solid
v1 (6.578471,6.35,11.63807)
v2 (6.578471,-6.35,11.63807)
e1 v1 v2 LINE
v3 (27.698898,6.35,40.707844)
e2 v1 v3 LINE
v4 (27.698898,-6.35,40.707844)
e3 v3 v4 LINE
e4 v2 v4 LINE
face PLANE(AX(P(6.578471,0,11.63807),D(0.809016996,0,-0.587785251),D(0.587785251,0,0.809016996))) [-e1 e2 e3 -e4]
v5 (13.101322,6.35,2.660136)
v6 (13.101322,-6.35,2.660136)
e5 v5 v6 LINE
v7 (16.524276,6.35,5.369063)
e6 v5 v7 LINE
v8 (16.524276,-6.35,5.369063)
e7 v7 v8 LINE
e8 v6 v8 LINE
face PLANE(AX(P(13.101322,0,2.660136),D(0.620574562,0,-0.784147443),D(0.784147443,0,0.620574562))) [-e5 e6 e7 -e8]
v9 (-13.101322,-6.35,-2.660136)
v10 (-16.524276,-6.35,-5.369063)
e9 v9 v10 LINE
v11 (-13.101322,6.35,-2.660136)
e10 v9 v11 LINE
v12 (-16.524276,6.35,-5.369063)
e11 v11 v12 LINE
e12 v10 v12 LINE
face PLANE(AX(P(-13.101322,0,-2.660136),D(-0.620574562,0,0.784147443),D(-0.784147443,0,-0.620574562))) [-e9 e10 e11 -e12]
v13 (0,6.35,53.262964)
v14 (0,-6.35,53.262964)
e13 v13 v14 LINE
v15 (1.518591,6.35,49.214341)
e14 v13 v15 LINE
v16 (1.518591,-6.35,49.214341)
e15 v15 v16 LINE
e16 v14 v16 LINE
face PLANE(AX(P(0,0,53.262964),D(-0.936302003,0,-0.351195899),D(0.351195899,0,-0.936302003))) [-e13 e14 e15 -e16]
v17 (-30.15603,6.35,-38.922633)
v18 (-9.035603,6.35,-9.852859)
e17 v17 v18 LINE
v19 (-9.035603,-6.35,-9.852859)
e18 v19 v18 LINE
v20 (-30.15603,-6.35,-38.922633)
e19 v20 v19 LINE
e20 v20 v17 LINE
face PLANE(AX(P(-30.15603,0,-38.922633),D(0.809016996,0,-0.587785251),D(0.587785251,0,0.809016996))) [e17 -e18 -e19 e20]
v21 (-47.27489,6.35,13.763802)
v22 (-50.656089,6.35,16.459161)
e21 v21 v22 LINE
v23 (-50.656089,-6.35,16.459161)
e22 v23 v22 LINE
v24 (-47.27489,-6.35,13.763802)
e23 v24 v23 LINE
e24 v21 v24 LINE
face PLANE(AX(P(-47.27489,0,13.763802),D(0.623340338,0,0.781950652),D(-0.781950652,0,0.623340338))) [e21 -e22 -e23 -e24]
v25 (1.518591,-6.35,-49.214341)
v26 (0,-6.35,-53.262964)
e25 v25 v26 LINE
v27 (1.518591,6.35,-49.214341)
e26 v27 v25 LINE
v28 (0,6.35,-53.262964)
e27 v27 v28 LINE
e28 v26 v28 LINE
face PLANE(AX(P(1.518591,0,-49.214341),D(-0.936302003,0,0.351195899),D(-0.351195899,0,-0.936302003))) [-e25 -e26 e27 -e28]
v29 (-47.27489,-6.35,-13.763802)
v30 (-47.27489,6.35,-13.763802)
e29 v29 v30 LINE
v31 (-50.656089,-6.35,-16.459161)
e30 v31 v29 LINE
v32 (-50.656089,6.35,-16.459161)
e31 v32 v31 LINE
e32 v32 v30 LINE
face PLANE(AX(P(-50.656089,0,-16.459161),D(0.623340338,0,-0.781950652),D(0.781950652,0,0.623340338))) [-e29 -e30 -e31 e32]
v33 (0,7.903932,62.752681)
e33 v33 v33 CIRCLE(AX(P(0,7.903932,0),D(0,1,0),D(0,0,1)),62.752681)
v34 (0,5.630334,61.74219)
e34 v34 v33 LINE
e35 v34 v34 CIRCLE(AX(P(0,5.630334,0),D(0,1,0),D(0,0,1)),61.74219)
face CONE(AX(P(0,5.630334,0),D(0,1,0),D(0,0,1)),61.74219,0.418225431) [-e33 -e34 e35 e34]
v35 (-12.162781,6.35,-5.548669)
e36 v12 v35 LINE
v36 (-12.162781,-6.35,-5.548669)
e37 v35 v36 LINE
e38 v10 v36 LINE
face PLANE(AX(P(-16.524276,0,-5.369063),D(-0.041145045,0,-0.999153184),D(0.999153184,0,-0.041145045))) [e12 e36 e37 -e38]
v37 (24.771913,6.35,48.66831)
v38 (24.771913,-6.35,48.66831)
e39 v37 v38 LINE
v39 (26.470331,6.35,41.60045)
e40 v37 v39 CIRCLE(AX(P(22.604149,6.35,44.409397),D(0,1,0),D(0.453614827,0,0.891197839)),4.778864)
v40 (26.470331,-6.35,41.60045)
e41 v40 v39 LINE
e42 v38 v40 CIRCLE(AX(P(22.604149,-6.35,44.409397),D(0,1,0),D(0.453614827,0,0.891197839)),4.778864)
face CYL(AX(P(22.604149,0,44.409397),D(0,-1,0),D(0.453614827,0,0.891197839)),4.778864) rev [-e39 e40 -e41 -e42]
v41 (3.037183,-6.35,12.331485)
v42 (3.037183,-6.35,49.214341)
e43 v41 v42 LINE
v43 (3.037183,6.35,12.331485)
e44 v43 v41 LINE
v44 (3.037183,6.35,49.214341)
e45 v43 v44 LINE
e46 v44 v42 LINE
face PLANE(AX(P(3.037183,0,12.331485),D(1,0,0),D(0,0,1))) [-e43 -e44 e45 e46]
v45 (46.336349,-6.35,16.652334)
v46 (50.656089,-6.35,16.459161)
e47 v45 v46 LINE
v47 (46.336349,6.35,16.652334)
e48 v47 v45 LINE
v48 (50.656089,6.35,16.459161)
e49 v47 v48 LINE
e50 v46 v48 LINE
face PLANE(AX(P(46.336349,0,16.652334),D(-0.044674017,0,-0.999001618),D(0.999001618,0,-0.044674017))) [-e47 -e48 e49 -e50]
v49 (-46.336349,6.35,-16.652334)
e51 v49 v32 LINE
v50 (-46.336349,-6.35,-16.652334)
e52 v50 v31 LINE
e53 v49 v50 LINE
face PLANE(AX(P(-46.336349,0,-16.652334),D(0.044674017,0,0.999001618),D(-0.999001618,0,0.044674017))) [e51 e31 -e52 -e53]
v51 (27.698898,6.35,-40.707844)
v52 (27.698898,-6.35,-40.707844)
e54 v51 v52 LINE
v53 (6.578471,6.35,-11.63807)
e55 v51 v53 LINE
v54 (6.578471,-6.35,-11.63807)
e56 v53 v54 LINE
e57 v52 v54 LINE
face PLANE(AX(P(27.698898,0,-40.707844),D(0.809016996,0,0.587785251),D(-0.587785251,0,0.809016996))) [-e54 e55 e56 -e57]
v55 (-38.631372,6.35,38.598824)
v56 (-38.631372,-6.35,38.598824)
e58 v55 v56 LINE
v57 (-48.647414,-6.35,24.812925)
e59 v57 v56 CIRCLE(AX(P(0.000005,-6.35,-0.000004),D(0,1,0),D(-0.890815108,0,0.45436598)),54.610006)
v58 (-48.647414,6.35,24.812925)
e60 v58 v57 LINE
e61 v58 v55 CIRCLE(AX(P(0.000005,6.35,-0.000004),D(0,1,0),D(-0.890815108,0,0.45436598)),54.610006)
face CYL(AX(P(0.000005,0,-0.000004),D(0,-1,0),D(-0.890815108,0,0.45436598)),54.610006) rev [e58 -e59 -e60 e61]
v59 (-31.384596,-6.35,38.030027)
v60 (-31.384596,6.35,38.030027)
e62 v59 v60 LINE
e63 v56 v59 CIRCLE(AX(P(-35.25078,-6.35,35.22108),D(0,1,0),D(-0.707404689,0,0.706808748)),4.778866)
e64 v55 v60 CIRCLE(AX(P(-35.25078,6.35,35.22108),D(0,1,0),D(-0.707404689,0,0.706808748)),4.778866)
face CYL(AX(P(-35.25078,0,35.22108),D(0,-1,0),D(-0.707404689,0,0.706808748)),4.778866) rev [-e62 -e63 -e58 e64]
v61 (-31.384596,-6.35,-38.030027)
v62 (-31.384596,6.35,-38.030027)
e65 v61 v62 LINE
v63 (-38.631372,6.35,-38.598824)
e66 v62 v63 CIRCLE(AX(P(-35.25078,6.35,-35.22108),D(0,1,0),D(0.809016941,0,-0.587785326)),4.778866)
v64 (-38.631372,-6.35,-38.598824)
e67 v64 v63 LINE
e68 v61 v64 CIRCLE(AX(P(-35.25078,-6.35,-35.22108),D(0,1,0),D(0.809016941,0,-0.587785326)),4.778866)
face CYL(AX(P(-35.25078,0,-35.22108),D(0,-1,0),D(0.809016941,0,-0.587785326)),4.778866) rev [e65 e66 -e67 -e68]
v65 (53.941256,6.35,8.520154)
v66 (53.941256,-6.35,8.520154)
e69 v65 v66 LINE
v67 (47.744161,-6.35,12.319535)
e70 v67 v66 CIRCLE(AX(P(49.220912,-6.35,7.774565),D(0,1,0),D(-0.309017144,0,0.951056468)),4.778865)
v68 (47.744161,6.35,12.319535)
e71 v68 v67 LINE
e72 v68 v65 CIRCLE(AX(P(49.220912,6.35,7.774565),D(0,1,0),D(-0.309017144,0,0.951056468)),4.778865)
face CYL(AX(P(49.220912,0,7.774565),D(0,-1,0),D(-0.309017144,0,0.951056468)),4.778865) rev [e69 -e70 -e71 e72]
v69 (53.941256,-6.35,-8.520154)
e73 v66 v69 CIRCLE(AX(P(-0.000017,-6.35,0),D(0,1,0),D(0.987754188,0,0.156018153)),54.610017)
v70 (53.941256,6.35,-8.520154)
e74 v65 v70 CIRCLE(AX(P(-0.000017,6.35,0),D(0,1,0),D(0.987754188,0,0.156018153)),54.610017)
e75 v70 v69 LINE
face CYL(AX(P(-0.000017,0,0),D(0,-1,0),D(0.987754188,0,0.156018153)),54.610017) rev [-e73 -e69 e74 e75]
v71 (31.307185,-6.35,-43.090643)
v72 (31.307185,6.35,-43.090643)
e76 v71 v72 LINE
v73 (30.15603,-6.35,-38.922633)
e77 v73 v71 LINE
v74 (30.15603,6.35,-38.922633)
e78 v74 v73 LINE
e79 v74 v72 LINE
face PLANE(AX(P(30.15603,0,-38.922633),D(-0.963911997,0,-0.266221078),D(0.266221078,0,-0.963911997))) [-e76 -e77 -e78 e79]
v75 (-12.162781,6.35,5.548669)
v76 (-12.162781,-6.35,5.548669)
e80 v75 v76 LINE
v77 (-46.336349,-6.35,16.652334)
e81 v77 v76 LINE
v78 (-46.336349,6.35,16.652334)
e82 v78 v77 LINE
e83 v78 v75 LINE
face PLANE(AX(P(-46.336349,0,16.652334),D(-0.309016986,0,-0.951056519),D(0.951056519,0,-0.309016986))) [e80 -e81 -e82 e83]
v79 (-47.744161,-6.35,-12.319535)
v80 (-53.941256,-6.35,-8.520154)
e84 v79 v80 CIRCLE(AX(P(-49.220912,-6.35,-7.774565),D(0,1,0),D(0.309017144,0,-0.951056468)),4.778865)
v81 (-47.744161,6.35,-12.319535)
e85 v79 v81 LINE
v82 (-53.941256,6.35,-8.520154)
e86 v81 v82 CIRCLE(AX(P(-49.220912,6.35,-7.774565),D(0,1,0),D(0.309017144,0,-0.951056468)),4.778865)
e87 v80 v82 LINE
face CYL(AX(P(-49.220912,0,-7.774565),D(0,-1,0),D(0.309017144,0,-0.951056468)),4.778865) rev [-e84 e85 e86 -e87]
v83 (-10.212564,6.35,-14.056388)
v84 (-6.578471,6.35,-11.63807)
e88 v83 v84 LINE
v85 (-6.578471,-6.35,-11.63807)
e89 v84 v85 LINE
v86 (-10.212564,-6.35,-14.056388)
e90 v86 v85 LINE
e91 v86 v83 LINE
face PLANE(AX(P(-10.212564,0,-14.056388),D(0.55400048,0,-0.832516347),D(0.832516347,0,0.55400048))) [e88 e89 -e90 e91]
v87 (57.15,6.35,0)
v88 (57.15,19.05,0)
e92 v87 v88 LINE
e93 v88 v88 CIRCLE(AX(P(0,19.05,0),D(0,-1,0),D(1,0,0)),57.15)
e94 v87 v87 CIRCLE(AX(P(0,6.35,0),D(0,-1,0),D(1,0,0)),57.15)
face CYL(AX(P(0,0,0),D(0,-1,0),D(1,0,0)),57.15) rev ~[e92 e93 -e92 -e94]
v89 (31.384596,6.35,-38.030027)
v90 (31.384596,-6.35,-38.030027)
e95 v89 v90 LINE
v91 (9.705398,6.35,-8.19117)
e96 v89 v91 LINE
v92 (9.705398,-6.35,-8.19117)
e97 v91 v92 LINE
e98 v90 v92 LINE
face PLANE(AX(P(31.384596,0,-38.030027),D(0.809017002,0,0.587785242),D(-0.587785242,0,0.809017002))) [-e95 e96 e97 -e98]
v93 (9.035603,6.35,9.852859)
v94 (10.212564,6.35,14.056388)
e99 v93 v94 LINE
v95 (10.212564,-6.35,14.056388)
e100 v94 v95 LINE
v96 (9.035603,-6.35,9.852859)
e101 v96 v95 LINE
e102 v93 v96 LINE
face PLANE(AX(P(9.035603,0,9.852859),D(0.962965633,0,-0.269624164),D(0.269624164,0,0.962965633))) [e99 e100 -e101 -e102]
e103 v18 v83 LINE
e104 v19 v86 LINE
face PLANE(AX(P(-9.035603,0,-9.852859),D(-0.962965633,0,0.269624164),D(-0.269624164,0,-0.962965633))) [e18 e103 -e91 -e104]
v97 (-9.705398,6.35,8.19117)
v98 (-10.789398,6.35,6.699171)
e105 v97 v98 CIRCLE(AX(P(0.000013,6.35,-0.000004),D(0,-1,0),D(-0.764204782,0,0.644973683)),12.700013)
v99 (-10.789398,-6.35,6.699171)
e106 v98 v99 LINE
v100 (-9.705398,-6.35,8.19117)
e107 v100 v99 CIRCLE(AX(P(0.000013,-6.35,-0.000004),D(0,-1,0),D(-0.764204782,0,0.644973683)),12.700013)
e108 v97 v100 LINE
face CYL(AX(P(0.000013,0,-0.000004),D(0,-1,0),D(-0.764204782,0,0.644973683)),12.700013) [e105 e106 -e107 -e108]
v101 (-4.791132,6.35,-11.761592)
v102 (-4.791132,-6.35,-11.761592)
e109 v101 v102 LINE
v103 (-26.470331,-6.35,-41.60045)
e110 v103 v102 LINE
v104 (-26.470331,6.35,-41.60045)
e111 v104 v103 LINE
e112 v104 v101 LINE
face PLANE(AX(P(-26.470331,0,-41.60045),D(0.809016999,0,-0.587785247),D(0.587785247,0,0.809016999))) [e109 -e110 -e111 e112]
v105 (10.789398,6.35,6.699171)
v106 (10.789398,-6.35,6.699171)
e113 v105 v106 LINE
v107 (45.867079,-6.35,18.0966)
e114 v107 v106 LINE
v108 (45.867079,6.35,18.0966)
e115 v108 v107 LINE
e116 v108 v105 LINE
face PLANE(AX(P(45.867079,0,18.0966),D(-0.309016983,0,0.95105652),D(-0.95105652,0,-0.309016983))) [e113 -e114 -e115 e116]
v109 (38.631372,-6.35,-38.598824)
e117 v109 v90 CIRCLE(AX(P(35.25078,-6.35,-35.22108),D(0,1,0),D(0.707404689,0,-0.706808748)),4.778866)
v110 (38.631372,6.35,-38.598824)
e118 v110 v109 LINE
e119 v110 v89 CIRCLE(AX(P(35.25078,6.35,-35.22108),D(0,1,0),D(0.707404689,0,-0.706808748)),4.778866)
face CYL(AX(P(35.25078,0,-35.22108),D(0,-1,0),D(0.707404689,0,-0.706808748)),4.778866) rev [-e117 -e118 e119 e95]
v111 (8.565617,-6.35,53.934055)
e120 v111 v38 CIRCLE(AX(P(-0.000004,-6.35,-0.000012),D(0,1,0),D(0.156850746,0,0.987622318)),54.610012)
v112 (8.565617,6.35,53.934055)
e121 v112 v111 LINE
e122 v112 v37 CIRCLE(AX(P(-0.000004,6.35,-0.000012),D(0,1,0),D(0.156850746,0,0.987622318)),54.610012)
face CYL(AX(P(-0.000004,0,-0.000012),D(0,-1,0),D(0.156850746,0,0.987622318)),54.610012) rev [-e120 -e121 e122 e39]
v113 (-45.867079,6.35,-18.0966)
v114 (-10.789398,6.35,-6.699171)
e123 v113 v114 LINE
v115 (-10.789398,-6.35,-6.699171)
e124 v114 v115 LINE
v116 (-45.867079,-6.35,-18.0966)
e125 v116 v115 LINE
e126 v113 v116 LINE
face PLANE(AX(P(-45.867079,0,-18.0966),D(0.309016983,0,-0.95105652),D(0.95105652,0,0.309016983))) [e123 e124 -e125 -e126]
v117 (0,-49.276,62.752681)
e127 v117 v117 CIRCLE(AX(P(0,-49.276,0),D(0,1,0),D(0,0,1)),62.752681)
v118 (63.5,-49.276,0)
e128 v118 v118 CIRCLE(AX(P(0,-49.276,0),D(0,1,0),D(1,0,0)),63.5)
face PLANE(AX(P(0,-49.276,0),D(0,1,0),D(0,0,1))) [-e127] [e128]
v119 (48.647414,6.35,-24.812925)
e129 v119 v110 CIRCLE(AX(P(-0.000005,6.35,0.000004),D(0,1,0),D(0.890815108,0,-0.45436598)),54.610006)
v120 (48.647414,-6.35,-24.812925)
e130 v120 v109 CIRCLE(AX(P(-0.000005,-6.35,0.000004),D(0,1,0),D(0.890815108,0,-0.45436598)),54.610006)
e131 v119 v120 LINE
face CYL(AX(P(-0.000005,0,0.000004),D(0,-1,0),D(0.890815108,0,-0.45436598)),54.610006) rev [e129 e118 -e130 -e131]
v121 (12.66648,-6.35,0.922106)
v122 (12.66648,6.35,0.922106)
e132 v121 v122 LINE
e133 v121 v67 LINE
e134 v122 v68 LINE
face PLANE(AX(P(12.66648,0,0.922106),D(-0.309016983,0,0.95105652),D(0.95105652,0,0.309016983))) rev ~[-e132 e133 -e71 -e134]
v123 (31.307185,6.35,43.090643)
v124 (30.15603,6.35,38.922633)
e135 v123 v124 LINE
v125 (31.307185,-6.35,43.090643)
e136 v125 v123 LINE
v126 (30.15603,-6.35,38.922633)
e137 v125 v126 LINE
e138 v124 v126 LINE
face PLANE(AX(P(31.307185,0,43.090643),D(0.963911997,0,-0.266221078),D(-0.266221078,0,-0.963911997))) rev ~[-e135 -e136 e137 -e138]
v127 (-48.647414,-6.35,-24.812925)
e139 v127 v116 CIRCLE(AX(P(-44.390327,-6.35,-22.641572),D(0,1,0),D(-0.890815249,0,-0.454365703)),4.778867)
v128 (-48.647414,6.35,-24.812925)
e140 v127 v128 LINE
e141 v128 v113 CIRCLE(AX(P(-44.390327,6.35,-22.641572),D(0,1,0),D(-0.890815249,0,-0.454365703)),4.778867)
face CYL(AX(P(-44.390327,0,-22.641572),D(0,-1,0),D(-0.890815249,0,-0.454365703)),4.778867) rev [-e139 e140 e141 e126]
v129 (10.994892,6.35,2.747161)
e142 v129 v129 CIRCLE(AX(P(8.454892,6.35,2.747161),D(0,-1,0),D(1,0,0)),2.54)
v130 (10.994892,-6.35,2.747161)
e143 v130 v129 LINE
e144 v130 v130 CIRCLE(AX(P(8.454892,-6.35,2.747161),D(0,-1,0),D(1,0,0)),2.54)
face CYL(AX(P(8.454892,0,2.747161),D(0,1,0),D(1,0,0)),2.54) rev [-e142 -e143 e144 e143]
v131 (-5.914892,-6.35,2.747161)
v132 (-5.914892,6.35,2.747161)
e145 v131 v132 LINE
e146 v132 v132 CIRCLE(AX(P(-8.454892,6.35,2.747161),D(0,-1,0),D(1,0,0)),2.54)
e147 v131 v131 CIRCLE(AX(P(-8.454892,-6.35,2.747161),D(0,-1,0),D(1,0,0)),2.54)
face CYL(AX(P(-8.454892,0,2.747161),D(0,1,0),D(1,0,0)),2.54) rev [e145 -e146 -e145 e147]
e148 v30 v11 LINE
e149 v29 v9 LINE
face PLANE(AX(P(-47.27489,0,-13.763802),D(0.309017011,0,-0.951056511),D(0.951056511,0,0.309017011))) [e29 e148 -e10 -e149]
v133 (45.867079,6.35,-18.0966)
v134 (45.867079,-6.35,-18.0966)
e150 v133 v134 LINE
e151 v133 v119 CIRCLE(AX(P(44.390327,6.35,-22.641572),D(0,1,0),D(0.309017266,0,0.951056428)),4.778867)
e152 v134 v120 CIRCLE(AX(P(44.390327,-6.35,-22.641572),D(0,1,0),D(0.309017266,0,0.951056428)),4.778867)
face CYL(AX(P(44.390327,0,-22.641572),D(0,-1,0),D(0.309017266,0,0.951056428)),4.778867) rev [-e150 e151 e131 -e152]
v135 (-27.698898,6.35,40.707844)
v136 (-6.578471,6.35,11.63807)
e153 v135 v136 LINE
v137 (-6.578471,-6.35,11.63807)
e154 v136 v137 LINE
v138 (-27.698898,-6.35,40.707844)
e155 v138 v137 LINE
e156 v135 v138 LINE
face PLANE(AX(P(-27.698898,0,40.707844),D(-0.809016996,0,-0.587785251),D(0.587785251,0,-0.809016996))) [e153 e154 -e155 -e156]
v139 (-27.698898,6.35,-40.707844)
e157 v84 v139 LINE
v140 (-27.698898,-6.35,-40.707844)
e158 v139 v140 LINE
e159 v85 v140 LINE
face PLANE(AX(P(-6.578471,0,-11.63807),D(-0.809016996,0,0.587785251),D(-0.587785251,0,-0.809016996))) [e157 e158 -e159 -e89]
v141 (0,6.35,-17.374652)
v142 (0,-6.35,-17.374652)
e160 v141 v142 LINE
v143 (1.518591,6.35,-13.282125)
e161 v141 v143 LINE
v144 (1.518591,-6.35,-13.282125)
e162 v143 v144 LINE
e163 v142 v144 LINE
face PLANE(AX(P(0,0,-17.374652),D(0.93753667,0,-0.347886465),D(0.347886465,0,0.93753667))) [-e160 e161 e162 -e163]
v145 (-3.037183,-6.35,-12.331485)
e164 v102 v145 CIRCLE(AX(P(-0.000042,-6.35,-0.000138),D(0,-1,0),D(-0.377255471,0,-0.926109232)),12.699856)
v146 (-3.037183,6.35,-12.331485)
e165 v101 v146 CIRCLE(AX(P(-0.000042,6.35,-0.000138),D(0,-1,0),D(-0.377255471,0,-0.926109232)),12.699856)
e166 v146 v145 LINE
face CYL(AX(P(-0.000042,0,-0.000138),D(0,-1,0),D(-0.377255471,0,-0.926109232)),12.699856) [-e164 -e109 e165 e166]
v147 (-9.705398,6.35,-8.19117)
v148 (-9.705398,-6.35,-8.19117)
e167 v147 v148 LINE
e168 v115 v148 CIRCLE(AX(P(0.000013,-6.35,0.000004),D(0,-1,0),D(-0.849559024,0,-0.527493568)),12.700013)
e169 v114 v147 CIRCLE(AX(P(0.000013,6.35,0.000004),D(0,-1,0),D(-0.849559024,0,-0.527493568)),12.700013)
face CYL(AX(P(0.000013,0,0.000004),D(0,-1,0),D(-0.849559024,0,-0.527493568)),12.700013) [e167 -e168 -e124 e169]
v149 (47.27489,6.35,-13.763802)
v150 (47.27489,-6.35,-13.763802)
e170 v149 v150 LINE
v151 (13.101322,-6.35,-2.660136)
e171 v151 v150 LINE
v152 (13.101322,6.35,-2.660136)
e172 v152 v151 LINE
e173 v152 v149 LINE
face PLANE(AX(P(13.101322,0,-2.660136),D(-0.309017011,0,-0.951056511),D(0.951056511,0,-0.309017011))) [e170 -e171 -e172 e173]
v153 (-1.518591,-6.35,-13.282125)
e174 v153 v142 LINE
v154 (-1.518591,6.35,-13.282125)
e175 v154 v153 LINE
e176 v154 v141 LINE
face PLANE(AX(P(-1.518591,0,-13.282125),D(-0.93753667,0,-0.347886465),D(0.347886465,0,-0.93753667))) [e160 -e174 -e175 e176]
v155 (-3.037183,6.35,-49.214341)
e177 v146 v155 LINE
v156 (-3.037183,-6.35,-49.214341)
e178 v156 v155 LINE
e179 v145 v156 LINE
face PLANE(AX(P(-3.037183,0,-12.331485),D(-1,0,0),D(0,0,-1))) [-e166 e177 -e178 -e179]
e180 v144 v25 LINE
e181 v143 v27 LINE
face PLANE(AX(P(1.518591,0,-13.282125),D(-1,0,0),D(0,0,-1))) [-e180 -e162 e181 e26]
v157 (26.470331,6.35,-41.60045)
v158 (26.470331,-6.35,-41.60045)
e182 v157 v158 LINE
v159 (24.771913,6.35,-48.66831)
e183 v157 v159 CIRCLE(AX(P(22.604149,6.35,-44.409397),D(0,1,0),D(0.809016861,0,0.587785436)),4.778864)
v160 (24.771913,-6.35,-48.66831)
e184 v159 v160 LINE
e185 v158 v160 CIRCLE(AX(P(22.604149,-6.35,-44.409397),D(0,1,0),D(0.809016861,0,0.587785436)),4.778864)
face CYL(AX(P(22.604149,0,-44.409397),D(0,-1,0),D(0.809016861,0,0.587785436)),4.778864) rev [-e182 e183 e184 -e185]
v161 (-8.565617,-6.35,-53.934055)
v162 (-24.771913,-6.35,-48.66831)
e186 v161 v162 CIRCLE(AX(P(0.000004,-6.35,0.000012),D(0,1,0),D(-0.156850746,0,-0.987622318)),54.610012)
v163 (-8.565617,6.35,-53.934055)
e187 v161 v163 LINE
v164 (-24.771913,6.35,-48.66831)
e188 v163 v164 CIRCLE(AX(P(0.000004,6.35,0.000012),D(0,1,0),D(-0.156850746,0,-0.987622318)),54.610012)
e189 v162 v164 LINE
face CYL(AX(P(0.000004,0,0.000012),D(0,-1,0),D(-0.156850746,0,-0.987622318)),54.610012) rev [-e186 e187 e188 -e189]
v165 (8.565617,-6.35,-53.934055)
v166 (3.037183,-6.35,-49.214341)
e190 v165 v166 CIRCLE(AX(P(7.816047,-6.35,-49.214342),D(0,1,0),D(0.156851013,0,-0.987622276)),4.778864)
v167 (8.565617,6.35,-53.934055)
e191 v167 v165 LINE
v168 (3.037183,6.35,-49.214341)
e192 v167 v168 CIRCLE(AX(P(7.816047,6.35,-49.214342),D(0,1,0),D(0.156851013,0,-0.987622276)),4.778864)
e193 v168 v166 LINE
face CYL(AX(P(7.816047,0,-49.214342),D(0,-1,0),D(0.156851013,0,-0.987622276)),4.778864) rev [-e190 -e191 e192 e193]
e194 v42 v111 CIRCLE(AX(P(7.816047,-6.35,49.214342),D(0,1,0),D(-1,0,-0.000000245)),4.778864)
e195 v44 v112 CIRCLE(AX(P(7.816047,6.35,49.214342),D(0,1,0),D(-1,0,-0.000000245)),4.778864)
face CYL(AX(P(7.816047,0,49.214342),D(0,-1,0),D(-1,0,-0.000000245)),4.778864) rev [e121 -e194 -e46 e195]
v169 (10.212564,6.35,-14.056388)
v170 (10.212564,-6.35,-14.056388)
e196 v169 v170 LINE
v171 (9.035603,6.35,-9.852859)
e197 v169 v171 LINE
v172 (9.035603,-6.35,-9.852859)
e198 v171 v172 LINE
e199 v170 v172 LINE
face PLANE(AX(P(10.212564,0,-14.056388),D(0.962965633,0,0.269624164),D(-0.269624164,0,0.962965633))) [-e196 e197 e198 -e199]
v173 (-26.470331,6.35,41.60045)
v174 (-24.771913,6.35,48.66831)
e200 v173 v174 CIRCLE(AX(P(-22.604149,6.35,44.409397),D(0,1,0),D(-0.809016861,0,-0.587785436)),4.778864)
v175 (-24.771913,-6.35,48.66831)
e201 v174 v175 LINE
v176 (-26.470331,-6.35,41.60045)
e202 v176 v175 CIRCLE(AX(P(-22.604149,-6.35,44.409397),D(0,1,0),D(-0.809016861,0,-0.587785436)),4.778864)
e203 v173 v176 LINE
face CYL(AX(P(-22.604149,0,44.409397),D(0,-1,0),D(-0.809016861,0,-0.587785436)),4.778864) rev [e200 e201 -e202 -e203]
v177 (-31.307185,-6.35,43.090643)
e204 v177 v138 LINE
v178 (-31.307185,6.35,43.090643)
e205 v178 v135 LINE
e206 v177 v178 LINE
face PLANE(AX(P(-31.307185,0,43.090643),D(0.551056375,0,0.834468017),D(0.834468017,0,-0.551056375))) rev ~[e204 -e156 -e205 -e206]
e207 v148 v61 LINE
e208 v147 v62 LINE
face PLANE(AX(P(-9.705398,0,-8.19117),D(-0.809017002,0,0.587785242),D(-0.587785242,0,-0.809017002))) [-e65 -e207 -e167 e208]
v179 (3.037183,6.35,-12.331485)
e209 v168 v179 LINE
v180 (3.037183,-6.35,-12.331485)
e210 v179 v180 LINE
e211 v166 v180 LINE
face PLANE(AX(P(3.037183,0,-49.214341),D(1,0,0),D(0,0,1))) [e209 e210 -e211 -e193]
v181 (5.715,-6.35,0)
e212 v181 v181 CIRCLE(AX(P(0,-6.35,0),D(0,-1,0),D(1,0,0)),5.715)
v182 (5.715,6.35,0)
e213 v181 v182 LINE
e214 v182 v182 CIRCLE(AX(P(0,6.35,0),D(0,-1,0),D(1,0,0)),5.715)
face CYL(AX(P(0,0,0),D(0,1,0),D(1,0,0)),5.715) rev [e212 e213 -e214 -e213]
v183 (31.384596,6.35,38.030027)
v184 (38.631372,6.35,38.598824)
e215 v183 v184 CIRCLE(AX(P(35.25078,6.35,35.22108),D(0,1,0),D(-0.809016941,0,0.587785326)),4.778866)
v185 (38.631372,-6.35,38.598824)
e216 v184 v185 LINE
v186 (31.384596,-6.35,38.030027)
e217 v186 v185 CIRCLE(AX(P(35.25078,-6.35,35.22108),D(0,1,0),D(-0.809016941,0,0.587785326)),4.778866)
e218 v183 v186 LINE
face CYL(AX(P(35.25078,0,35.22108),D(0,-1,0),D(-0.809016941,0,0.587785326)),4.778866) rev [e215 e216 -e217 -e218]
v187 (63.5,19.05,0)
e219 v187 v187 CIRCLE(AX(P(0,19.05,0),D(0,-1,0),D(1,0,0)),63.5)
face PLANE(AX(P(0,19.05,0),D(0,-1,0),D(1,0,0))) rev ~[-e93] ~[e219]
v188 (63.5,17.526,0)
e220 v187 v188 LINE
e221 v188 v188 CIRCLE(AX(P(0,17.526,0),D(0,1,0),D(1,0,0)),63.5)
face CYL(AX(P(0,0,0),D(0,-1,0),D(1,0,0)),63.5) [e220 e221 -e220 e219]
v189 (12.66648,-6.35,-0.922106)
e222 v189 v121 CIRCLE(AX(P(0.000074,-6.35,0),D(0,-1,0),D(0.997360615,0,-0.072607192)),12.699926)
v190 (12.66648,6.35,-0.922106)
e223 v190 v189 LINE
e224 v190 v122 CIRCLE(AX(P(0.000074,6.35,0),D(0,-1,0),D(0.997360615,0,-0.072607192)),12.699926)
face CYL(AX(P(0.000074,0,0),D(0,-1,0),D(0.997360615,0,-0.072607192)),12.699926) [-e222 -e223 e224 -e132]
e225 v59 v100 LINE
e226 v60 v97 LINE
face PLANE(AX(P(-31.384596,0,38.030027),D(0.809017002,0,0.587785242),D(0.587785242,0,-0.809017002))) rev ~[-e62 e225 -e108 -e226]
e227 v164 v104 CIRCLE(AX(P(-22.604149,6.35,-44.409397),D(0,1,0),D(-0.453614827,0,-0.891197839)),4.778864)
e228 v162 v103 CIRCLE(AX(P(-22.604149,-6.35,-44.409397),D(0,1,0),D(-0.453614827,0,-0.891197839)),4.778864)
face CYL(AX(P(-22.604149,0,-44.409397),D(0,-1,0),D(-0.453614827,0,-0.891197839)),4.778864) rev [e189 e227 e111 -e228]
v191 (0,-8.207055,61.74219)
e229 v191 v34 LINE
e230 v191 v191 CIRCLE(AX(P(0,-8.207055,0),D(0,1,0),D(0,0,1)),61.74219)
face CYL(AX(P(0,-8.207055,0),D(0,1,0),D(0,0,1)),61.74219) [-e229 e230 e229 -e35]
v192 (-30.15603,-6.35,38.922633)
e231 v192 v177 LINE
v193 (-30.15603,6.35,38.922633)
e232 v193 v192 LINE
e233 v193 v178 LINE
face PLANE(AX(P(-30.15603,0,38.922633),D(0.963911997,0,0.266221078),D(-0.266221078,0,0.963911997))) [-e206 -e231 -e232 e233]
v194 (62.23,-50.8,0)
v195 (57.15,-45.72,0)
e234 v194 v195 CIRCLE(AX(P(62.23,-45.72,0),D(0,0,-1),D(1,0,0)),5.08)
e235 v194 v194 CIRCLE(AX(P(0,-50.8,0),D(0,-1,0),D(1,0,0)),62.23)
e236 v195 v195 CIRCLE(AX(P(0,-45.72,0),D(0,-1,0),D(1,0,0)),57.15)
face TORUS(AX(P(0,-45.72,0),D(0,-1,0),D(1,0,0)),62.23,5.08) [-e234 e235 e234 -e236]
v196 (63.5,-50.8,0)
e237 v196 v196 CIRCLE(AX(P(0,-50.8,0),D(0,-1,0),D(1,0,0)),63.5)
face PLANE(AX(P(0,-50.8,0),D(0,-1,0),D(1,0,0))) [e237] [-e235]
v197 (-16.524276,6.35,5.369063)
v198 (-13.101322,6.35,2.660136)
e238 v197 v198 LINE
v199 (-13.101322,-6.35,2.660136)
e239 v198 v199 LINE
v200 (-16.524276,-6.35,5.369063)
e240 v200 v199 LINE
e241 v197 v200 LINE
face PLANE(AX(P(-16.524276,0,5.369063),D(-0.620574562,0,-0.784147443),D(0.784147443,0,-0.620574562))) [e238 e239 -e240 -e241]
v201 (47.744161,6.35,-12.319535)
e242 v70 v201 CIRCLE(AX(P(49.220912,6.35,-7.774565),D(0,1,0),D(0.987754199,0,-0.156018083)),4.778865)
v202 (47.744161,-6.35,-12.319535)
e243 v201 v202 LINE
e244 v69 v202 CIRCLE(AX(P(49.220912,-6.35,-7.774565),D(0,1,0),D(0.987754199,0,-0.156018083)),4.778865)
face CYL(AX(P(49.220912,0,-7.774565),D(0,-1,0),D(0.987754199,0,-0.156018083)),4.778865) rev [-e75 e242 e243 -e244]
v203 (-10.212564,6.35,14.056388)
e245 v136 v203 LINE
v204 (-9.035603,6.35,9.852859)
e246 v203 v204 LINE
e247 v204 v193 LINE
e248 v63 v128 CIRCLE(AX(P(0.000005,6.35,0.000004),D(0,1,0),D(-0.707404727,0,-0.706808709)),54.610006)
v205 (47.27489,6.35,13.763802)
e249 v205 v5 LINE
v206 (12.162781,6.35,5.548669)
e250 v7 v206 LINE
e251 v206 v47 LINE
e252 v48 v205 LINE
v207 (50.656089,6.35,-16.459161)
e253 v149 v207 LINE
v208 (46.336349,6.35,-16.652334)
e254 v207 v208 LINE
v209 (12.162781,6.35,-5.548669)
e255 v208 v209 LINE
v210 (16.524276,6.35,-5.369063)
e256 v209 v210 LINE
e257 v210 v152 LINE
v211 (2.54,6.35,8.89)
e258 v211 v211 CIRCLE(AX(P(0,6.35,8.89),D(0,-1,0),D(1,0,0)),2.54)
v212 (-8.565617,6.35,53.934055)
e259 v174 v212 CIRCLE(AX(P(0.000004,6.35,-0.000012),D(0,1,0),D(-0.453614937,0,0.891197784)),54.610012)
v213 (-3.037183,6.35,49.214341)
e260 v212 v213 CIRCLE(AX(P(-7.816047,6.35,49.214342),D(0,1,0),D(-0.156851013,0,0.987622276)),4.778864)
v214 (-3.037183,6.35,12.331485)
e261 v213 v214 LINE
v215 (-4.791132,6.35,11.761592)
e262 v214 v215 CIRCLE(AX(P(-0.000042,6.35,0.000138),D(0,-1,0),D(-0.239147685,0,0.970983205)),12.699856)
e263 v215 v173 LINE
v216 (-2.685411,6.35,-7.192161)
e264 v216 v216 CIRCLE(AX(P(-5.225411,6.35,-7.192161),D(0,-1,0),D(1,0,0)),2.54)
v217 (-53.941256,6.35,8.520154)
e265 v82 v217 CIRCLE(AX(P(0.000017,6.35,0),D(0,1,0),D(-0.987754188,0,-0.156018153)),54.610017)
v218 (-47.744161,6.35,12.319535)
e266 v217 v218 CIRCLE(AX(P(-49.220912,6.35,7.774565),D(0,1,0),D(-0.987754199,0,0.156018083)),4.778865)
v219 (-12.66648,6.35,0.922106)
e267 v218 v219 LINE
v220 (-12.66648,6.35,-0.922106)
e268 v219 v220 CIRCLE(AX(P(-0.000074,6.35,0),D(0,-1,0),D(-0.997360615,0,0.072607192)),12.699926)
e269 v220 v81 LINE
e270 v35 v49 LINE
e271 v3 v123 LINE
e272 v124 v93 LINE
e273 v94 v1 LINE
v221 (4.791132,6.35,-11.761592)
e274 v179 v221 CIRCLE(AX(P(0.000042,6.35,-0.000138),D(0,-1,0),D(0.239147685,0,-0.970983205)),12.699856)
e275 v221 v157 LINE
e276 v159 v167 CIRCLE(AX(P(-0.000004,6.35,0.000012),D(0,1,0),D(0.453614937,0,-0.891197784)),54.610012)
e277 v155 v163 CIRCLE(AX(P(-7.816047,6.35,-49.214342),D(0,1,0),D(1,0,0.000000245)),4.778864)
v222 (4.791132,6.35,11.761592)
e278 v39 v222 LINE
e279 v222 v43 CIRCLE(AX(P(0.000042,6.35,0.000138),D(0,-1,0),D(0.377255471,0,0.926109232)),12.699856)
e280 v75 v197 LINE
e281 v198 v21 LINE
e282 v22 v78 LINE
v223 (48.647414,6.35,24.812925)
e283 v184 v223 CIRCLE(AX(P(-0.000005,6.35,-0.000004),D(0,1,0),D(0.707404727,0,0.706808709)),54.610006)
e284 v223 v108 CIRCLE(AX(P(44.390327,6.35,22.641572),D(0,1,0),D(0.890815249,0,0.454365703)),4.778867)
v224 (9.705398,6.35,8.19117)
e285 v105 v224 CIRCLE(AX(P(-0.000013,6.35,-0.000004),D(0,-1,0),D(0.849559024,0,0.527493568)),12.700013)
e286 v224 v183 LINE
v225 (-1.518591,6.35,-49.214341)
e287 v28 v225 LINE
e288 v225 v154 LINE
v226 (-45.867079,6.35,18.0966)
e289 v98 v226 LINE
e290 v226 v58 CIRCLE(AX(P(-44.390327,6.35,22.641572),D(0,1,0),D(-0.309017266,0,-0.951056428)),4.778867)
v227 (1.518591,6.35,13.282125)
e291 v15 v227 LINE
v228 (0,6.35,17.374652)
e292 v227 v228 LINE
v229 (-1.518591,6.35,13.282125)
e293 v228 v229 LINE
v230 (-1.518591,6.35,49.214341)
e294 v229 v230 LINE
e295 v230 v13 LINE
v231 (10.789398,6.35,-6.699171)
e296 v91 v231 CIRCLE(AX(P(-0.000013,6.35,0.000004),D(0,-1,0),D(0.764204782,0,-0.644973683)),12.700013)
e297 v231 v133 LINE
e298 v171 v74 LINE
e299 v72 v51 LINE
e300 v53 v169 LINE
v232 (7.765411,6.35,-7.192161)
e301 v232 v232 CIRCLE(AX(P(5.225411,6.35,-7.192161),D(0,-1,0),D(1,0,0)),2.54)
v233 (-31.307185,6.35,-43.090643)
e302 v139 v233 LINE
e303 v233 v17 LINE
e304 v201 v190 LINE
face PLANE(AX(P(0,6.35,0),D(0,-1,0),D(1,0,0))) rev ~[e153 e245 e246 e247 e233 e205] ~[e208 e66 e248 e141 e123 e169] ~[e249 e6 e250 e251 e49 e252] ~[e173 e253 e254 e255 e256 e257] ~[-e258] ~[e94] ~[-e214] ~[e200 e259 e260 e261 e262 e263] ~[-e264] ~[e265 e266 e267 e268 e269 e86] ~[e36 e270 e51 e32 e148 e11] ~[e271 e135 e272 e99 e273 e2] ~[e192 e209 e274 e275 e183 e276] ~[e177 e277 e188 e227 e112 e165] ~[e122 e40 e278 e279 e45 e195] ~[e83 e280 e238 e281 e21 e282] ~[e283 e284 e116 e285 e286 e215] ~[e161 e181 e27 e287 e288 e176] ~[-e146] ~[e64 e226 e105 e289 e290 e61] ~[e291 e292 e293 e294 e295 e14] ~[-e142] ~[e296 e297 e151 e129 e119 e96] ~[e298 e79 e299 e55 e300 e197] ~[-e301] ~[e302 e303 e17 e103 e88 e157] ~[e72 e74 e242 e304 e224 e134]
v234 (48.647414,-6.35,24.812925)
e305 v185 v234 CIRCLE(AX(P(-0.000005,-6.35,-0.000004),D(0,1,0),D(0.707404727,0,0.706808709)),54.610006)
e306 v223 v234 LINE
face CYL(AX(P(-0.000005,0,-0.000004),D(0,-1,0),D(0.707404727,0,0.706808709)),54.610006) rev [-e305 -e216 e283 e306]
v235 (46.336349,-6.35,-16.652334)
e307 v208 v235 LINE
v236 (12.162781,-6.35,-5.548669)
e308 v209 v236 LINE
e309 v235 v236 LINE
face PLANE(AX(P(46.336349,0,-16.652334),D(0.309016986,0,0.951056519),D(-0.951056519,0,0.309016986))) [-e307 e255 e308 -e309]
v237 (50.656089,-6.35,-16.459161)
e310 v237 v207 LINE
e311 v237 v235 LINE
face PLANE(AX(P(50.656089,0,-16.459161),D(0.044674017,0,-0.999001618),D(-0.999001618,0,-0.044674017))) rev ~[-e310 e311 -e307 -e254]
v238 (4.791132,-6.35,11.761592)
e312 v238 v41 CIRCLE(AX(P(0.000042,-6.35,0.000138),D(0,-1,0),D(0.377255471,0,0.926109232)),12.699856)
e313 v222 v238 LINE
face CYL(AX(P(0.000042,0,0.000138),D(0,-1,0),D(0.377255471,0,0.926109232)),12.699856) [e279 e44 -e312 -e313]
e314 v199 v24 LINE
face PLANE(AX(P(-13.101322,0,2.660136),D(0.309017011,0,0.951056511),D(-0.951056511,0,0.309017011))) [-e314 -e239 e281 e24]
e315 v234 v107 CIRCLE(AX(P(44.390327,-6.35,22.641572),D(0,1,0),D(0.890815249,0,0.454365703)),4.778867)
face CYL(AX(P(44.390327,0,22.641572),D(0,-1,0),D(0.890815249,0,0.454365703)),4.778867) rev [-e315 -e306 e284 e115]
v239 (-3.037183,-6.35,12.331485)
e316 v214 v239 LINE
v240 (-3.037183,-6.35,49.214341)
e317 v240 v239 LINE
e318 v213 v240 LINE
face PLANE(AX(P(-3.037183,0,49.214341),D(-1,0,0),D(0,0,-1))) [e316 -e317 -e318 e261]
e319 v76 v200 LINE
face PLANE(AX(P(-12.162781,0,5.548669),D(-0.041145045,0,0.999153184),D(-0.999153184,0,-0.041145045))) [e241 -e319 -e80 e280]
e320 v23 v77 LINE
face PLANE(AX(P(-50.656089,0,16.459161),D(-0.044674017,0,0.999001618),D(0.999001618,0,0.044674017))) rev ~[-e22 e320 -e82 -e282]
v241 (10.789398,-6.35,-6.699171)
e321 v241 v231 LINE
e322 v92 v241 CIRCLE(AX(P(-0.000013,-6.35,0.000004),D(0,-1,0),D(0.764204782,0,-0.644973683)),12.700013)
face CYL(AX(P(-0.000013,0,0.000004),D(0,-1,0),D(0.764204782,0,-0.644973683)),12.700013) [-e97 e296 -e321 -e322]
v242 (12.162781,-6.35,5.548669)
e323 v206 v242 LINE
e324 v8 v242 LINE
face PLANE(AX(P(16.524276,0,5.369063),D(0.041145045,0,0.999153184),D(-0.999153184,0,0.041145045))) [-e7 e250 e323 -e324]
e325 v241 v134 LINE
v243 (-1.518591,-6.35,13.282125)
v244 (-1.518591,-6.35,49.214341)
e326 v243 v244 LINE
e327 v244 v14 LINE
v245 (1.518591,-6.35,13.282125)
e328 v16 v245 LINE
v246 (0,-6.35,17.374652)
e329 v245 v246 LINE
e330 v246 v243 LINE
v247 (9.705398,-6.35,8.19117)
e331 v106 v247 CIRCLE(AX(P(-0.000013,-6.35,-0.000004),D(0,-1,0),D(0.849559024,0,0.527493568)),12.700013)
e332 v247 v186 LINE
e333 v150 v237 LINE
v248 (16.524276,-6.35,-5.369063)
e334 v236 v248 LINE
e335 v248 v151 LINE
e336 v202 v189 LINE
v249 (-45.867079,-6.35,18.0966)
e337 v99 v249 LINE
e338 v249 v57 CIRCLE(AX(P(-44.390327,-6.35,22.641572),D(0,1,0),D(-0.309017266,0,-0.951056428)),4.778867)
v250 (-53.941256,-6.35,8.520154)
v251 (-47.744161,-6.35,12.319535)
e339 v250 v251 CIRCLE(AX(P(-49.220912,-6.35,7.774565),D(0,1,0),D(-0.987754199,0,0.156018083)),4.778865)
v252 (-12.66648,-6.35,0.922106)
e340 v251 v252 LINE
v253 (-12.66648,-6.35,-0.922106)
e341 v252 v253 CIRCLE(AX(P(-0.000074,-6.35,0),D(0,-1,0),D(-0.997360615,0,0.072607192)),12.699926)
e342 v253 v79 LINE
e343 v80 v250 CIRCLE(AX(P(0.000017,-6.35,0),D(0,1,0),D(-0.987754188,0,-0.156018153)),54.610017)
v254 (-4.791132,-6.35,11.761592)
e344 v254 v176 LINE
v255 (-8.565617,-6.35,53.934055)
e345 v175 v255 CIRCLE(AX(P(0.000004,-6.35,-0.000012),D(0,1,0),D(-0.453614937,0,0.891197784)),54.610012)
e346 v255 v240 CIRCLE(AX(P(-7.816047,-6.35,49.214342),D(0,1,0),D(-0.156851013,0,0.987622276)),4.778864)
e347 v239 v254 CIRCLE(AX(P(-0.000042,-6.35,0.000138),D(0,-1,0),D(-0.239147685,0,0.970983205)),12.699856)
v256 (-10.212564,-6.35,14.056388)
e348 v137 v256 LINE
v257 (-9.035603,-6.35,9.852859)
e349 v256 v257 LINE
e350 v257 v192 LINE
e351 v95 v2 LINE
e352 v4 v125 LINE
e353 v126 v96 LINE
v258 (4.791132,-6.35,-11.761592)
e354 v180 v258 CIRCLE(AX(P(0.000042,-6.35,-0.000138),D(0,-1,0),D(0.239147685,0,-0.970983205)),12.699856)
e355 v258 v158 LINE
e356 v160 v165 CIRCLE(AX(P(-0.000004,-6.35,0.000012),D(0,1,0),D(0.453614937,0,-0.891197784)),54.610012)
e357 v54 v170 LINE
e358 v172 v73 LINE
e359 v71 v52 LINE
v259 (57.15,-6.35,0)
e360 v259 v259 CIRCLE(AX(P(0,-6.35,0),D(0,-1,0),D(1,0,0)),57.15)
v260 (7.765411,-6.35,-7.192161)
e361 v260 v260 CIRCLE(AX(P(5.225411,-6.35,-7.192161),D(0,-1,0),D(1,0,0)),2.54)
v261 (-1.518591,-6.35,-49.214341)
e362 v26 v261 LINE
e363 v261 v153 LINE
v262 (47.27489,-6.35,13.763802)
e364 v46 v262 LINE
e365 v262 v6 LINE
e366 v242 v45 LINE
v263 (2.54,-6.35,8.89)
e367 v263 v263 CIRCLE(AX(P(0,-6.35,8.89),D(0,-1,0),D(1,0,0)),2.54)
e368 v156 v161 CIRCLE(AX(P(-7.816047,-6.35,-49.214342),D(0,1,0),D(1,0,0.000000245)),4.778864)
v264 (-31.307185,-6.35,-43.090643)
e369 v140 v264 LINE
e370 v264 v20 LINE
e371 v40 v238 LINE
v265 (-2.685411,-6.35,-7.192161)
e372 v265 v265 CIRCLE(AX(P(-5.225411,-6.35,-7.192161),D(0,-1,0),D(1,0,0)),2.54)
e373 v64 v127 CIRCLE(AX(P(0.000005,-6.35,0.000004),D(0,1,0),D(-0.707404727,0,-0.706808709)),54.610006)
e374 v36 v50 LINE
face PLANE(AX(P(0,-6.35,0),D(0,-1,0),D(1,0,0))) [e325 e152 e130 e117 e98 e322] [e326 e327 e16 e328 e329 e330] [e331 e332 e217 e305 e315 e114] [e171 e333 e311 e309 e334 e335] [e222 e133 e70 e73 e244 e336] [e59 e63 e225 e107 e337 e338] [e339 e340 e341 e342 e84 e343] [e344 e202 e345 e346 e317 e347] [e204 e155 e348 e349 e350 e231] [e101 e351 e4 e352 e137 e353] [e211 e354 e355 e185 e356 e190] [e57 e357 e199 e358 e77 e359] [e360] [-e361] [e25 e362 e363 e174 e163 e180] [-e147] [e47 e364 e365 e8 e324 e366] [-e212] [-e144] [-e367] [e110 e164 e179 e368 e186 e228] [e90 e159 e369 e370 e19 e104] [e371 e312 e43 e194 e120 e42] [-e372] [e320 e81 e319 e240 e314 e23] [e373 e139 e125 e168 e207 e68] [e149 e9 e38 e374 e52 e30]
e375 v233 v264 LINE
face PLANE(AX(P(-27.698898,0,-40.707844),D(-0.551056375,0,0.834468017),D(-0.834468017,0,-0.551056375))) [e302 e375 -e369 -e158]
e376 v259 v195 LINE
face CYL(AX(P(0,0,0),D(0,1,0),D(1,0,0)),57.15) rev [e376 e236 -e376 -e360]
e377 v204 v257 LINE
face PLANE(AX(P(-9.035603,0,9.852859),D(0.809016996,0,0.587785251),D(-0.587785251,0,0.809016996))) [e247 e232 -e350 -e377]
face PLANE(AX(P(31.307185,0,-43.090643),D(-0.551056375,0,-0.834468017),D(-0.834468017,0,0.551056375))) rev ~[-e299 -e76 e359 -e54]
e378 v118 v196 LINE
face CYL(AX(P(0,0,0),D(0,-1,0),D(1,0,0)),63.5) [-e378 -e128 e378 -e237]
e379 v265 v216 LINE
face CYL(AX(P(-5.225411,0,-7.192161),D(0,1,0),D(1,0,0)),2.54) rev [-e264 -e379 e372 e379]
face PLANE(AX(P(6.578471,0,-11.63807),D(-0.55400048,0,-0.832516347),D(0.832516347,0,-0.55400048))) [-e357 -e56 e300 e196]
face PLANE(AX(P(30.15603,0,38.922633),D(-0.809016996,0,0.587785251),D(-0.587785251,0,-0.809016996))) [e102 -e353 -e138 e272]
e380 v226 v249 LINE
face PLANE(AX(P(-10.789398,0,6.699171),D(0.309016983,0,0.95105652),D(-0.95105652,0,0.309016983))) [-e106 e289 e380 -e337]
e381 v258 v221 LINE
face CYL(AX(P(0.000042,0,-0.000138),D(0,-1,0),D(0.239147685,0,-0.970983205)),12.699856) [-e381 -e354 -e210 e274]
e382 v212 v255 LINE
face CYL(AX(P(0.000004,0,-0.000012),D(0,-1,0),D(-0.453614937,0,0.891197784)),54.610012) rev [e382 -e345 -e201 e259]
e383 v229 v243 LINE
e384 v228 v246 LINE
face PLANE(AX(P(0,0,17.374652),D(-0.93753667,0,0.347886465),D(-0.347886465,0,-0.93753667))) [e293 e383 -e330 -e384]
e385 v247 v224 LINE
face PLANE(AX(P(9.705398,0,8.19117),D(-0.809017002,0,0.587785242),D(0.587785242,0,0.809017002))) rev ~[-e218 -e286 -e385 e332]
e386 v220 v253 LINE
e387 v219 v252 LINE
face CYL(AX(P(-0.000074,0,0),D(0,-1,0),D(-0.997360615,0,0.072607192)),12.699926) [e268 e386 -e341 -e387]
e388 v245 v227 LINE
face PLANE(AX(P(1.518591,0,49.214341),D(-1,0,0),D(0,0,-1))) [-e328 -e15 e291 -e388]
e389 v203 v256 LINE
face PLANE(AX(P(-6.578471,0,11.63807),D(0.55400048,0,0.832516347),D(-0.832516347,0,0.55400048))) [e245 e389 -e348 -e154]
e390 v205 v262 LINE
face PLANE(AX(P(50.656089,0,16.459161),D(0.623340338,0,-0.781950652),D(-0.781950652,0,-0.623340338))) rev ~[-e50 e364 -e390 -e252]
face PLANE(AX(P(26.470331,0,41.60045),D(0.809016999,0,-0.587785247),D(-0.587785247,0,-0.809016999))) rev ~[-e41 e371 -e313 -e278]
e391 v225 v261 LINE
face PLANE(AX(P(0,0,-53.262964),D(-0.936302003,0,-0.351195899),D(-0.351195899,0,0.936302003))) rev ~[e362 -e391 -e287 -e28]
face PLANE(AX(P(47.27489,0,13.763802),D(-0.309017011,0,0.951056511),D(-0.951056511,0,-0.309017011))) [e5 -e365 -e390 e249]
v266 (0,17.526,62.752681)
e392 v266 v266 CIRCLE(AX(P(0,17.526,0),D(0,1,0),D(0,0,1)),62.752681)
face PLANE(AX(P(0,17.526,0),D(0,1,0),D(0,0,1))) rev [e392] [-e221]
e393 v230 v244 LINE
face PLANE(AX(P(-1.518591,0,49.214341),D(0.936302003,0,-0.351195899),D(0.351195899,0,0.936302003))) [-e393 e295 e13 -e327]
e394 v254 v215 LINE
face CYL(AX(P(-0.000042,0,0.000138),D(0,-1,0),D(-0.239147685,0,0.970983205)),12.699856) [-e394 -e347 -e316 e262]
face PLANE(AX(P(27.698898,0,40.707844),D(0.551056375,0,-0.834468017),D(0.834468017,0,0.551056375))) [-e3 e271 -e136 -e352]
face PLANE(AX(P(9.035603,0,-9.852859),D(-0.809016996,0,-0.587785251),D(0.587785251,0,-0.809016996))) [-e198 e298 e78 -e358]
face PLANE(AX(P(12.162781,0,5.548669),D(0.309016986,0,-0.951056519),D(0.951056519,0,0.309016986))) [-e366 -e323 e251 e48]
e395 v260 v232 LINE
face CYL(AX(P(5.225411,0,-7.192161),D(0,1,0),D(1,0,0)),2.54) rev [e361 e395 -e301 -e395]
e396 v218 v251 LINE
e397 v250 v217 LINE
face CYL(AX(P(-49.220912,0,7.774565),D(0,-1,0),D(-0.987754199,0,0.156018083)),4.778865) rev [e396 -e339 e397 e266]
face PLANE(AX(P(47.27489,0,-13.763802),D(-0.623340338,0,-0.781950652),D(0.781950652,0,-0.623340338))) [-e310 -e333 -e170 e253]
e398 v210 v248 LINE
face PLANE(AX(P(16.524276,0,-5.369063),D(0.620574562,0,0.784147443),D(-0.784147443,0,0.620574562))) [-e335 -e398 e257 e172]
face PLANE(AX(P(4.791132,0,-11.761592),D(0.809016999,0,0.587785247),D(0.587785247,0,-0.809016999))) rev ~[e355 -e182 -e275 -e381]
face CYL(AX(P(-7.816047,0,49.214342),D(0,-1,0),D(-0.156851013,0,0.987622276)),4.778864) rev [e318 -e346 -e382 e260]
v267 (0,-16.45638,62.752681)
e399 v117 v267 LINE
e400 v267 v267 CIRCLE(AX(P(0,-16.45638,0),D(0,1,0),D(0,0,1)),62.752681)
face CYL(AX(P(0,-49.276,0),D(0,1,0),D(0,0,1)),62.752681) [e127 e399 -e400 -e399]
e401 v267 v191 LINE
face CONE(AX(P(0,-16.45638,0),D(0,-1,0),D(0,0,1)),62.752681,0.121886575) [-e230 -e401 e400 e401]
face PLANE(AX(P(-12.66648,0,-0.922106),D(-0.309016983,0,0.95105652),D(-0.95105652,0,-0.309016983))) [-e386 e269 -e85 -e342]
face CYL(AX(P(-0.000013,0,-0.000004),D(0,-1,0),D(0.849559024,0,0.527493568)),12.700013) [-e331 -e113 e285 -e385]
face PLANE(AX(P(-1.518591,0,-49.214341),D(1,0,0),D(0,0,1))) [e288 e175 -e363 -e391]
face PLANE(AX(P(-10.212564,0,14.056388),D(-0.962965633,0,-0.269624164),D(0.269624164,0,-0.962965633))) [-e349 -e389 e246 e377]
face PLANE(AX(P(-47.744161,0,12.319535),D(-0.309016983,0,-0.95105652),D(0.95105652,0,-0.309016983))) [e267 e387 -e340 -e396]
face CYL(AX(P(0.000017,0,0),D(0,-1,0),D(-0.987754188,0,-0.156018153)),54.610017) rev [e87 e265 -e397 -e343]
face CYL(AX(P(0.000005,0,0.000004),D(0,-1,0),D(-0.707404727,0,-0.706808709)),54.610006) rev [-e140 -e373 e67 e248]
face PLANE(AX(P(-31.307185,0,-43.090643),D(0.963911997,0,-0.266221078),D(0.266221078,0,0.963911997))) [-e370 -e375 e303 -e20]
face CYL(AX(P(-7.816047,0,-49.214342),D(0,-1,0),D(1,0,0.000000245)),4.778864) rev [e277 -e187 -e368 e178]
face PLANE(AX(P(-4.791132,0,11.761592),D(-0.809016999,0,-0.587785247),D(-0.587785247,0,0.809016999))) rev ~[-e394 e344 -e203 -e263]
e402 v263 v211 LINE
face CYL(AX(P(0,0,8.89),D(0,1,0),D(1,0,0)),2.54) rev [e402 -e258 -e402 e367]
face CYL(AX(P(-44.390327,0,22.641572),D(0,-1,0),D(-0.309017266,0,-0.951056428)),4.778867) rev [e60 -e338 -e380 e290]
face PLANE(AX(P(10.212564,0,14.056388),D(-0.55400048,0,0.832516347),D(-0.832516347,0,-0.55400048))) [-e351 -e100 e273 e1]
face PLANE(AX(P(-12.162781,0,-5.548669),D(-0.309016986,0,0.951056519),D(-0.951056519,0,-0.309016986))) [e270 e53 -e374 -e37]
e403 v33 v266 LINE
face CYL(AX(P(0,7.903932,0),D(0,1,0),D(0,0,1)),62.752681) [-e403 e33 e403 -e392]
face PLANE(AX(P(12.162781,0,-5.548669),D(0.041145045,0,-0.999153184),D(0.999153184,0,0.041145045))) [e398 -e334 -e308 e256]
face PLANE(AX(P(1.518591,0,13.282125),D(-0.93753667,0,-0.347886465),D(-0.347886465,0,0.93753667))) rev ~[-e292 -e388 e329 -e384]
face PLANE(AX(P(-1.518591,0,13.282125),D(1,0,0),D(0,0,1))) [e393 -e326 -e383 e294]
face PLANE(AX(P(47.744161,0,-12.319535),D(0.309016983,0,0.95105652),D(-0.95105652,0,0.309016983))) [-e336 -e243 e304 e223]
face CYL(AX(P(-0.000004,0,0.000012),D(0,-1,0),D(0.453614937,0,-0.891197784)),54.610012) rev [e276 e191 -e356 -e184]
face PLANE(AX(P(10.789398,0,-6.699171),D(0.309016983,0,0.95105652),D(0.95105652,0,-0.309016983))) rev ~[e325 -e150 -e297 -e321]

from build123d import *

# Parameters (mm, degrees)
F1_R          = 57.15
F1_R_2        = 2.54
F1_R_3        = 5.715
F2_DEPTH      = 6.35
F0_R          = 63.5
F0_R_2        = 57.15
F3_DEPTH      = 50.8
F3_DEPTH_BACK = 19.05
F6_R          = 5.08


with BuildPart() as f2:
    # F1 (on Front) → F2 (new body, symmetric)
    with BuildSketch(Plane.XZ):
        Circle(F1_R)
        with BuildLine():
            Line((-26.470331, -41.60045), (-4.791132, -11.761592))
            ThreePointArc((-4.791132, -11.761592), (-3.924516, -12.078418), (-3.037183, -12.331485))
            Line((-3.037183, -12.331485), (-3.037183, -49.214341))
            ThreePointArc((-3.037183, -49.214341), (-4.713189, -52.848873), (-8.565617, -53.934055))
            ThreePointArc((-8.565617, -53.934055), (-16.875418, -51.937196), (-24.771913, -48.66831))
            ThreePointArc((-24.771913, -48.66831), (-27.250738, -45.525979), (-26.470331, -41.60045))
        make_face(mode=Mode.SUBTRACT)
        Polygon((1.518591, -13.282125), (1.518591, -49.214341), (0, -53.262964), (-1.518591, -49.214341), (-1.518591, -13.282125), (0, -17.374652), align=None, mode=Mode.SUBTRACT)
        with BuildLine():
            Line((-45.867079, -18.0966), (-10.789398, -6.699171))
            ThreePointArc((-10.789398, -6.699171), (-10.274516, -7.464873), (-9.705398, -8.19117))
            Line((-9.705398, -8.19117), (-31.384596, -38.030027))
            ThreePointArc((-31.384596, -38.030027), (-34.876838, -39.985293), (-38.631372, -38.598824))
            ThreePointArc((-38.631372, -38.598824), (-44.180418, -32.098953), (-48.647414, -24.812925))
            ThreePointArc((-48.647414, -24.812925), (-48.805809, -20.813709), (-45.867079, -18.0966))
        make_face(mode=Mode.SUBTRACT)
        Polygon((-12.162781, -5.548669), (-46.336349, -16.652334), (-50.656089, -16.459161), (-47.27489, -13.763802), (-13.101322, -2.660136), (-16.524276, -5.369063), align=None, mode=Mode.SUBTRACT)
        Polygon((-6.578471, -11.63807), (-27.698898, -40.707844), (-31.307185, -43.090643), (-30.15603, -38.922633), (-9.035603, -9.852859), (-10.212564, -14.056388), align=None, mode=Mode.SUBTRACT)
        with Locations((-5.225411, -7.192161)):
            Circle(F1_R_2, mode=Mode.SUBTRACT)
        with BuildLine():
            Line((3.037183, -49.214341), (3.037183, -12.331485))
            ThreePointArc((3.037183, -12.331485), (3.924516, -12.078418), (4.791132, -11.761592))
            Line((4.791132, -11.761592), (26.470331, -41.60045))
            ThreePointArc((26.470331, -41.60045), (27.250738, -45.525979), (24.771913, -48.66831))
            ThreePointArc((24.771913, -48.66831), (16.875418, -51.937196), (8.565617, -53.934055))
            ThreePointArc((8.565617, -53.934055), (4.713189, -52.848873), (3.037183, -49.214341))
        make_face(mode=Mode.SUBTRACT)
        Polygon((9.035603, -9.852859), (30.15603, -38.922633), (31.307185, -43.090643), (27.698898, -40.707844), (6.578471, -11.63807), (10.212564, -14.056388), align=None, mode=Mode.SUBTRACT)
        with Locations((5.225411, -7.192161)):
            Circle(F1_R_2, mode=Mode.SUBTRACT)
        with BuildLine():
            Line((31.384596, -38.030027), (9.705398, -8.19117))
            ThreePointArc((9.705398, -8.19117), (10.274516, -7.464873), (10.789398, -6.699171))
            Line((10.789398, -6.699171), (45.867079, -18.0966))
            ThreePointArc((45.867079, -18.0966), (48.805809, -20.813709), (48.647414, -24.812925))
            ThreePointArc((48.647414, -24.812925), (44.180418, -32.098953), (38.631372, -38.598824))
            ThreePointArc((38.631372, -38.598824), (34.876838, -39.985293), (31.384596, -38.030027))
        make_face(mode=Mode.SUBTRACT)
        Polygon((13.101322, -2.660136), (47.27489, -13.763802), (50.656089, -16.459161), (46.336349, -16.652334), (12.162781, -5.548669), (16.524276, -5.369063), align=None, mode=Mode.SUBTRACT)
        with BuildLine():
            Line((47.744161, -12.319535), (12.66648, -0.922106))
            ThreePointArc((12.66648, -0.922106), (12.7, 0), (12.66648, 0.922106))
            Line((12.66648, 0.922106), (47.744161, 12.319535))
            ThreePointArc((47.744161, 12.319535), (51.71872, 11.848691), (53.941256, 8.520154))
            ThreePointArc((53.941256, 8.520154), (54.61, 0), (53.941256, -8.520154))
            ThreePointArc((53.941256, -8.520154), (51.71872, -11.848691), (47.744161, -12.319535))
        make_face(mode=Mode.SUBTRACT)
        with BuildLine():
            Line((-47.744161, 12.319535), (-12.66648, 0.922106))
            ThreePointArc((-12.66648, 0.922106), (-12.7, 0), (-12.66648, -0.922106))
            Line((-12.66648, -0.922106), (-47.744161, -12.319535))
            ThreePointArc((-47.744161, -12.319535), (-51.71872, -11.848691), (-53.941256, -8.520154))
            ThreePointArc((-53.941256, -8.520154), (-54.61, 0), (-53.941256, 8.520154))
            ThreePointArc((-53.941256, 8.520154), (-51.71872, 11.848691), (-47.744161, 12.319535))
        make_face(mode=Mode.SUBTRACT)
        Polygon((-13.101322, 2.660136), (-47.27489, 13.763802), (-50.656089, 16.459161), (-46.336349, 16.652334), (-12.162781, 5.548669), (-16.524276, 5.369063), align=None, mode=Mode.SUBTRACT)
        with BuildLine():
            ThreePointArc((-48.647414, 24.812925), (-44.180418, 32.098953), (-38.631372, 38.598824))
            ThreePointArc((-38.631372, 38.598824), (-34.876838, 39.985293), (-31.384596, 38.030027))
            Line((-31.384596, 38.030027), (-9.705398, 8.19117))
            ThreePointArc((-9.705398, 8.19117), (-10.274516, 7.464873), (-10.789398, 6.699171))
            Line((-10.789398, 6.699171), (-45.867079, 18.0966))
            ThreePointArc((-45.867079, 18.0966), (-48.805809, 20.813709), (-48.647414, 24.812925))
        make_face(mode=Mode.SUBTRACT)
        with Locations((-8.454892, 2.747161)):
            Circle(F1_R_2, mode=Mode.SUBTRACT)
        Polygon((-9.035603, 9.852859), (-30.15603, 38.922633), (-31.307185, 43.090643), (-27.698898, 40.707844), (-6.578471, 11.63807), (-10.212564, 14.056388), align=None, mode=Mode.SUBTRACT)
        with BuildLine():
            Line((-3.037183, 49.214341), (-3.037183, 12.331485))
            ThreePointArc((-3.037183, 12.331485), (-3.924516, 12.078418), (-4.791132, 11.761592))
            Line((-4.791132, 11.761592), (-26.470331, 41.60045))
            ThreePointArc((-26.470331, 41.60045), (-27.250738, 45.525979), (-24.771913, 48.66831))
            ThreePointArc((-24.771913, 48.66831), (-16.875418, 51.937196), (-8.565617, 53.934055))
            ThreePointArc((-8.565617, 53.934055), (-4.713189, 52.848873), (-3.037183, 49.214341))
        make_face(mode=Mode.SUBTRACT)
        Circle(F1_R_3, mode=Mode.SUBTRACT)
        with Locations((8.454892, 2.747161)):
            Circle(F1_R_2, mode=Mode.SUBTRACT)
        with Locations((0, 8.89)):
            Circle(F1_R_2, mode=Mode.SUBTRACT)
        Polygon((6.578471, 11.63807), (27.698898, 40.707844), (31.307185, 43.090643), (30.15603, 38.922633), (9.035603, 9.852859), (10.212564, 14.056388), align=None, mode=Mode.SUBTRACT)
        Polygon((12.162781, 5.548669), (46.336349, 16.652334), (50.656089, 16.459161), (47.27489, 13.763802), (13.101322, 2.660136), (16.524276, 5.369063), align=None, mode=Mode.SUBTRACT)
        with BuildLine():
            Line((45.867079, 18.0966), (10.789398, 6.699171))
            ThreePointArc((10.789398, 6.699171), (10.274516, 7.464873), (9.705398, 8.19117))
            Line((9.705398, 8.19117), (31.384596, 38.030027))
            ThreePointArc((31.384596, 38.030027), (34.876838, 39.985293), (38.631372, 38.598824))
            ThreePointArc((38.631372, 38.598824), (44.180418, 32.098953), (48.647414, 24.812925))
            ThreePointArc((48.647414, 24.812925), (48.805809, 20.813709), (45.867079, 18.0966))
        make_face(mode=Mode.SUBTRACT)
        Polygon((0, 53.262964), (1.518591, 49.214341), (1.518591, 13.282125), (0, 17.374652), (-1.518591, 13.282125), (-1.518591, 49.214341), align=None, mode=Mode.SUBTRACT)
        with BuildLine():
            Line((26.470331, 41.60045), (4.791132, 11.761592))
            ThreePointArc((4.791132, 11.761592), (3.924516, 12.078418), (3.037183, 12.331485))
            Line((3.037183, 12.331485), (3.037183, 49.214341))
            ThreePointArc((3.037183, 49.214341), (4.713189, 52.848873), (8.565617, 53.934055))
            ThreePointArc((8.565617, 53.934055), (16.875418, 51.937196), (24.771913, 48.66831))
            ThreePointArc((24.771913, 48.66831), (27.250738, 45.525979), (26.470331, 41.60045))
        make_face(mode=Mode.SUBTRACT)
    extrude(amount=F2_DEPTH, both=True)

    # F0 (on Front) → F3 (join, two sides)
    with BuildSketch(Plane.XZ) as f3_sk:
        Circle(F0_R)
        Circle(F0_R_2, mode=Mode.SUBTRACT)
    extrude(amount=F3_DEPTH)
    extrude(f3_sk.sketch, amount=-F3_DEPTH_BACK)

    # F4 (on Right) → F5 (revolve, cut)
    with BuildSketch(Plane.YZ):
        Polygon((-8.207055, 61.74219), (0, 61.74219), (5.630334, 61.74219), (7.903932, 62.752681), (17.526, 62.752681), (17.526, 63.5), (-49.276, 63.5), (-49.276, 62.752681), (-16.45638, 62.752681), align=None)
    revolve(axis=Axis((0, -11.831738, 0), (0, 1, 0)), mode=Mode.SUBTRACT)

    # F6
    f6_edges = [f2.edges().sort_by_distance(p)[0] for p in [
        (-57.15, -50.8, 0),
    ]]
    fillet(f6_edges, radius=F6_R)


solid = f2.part
